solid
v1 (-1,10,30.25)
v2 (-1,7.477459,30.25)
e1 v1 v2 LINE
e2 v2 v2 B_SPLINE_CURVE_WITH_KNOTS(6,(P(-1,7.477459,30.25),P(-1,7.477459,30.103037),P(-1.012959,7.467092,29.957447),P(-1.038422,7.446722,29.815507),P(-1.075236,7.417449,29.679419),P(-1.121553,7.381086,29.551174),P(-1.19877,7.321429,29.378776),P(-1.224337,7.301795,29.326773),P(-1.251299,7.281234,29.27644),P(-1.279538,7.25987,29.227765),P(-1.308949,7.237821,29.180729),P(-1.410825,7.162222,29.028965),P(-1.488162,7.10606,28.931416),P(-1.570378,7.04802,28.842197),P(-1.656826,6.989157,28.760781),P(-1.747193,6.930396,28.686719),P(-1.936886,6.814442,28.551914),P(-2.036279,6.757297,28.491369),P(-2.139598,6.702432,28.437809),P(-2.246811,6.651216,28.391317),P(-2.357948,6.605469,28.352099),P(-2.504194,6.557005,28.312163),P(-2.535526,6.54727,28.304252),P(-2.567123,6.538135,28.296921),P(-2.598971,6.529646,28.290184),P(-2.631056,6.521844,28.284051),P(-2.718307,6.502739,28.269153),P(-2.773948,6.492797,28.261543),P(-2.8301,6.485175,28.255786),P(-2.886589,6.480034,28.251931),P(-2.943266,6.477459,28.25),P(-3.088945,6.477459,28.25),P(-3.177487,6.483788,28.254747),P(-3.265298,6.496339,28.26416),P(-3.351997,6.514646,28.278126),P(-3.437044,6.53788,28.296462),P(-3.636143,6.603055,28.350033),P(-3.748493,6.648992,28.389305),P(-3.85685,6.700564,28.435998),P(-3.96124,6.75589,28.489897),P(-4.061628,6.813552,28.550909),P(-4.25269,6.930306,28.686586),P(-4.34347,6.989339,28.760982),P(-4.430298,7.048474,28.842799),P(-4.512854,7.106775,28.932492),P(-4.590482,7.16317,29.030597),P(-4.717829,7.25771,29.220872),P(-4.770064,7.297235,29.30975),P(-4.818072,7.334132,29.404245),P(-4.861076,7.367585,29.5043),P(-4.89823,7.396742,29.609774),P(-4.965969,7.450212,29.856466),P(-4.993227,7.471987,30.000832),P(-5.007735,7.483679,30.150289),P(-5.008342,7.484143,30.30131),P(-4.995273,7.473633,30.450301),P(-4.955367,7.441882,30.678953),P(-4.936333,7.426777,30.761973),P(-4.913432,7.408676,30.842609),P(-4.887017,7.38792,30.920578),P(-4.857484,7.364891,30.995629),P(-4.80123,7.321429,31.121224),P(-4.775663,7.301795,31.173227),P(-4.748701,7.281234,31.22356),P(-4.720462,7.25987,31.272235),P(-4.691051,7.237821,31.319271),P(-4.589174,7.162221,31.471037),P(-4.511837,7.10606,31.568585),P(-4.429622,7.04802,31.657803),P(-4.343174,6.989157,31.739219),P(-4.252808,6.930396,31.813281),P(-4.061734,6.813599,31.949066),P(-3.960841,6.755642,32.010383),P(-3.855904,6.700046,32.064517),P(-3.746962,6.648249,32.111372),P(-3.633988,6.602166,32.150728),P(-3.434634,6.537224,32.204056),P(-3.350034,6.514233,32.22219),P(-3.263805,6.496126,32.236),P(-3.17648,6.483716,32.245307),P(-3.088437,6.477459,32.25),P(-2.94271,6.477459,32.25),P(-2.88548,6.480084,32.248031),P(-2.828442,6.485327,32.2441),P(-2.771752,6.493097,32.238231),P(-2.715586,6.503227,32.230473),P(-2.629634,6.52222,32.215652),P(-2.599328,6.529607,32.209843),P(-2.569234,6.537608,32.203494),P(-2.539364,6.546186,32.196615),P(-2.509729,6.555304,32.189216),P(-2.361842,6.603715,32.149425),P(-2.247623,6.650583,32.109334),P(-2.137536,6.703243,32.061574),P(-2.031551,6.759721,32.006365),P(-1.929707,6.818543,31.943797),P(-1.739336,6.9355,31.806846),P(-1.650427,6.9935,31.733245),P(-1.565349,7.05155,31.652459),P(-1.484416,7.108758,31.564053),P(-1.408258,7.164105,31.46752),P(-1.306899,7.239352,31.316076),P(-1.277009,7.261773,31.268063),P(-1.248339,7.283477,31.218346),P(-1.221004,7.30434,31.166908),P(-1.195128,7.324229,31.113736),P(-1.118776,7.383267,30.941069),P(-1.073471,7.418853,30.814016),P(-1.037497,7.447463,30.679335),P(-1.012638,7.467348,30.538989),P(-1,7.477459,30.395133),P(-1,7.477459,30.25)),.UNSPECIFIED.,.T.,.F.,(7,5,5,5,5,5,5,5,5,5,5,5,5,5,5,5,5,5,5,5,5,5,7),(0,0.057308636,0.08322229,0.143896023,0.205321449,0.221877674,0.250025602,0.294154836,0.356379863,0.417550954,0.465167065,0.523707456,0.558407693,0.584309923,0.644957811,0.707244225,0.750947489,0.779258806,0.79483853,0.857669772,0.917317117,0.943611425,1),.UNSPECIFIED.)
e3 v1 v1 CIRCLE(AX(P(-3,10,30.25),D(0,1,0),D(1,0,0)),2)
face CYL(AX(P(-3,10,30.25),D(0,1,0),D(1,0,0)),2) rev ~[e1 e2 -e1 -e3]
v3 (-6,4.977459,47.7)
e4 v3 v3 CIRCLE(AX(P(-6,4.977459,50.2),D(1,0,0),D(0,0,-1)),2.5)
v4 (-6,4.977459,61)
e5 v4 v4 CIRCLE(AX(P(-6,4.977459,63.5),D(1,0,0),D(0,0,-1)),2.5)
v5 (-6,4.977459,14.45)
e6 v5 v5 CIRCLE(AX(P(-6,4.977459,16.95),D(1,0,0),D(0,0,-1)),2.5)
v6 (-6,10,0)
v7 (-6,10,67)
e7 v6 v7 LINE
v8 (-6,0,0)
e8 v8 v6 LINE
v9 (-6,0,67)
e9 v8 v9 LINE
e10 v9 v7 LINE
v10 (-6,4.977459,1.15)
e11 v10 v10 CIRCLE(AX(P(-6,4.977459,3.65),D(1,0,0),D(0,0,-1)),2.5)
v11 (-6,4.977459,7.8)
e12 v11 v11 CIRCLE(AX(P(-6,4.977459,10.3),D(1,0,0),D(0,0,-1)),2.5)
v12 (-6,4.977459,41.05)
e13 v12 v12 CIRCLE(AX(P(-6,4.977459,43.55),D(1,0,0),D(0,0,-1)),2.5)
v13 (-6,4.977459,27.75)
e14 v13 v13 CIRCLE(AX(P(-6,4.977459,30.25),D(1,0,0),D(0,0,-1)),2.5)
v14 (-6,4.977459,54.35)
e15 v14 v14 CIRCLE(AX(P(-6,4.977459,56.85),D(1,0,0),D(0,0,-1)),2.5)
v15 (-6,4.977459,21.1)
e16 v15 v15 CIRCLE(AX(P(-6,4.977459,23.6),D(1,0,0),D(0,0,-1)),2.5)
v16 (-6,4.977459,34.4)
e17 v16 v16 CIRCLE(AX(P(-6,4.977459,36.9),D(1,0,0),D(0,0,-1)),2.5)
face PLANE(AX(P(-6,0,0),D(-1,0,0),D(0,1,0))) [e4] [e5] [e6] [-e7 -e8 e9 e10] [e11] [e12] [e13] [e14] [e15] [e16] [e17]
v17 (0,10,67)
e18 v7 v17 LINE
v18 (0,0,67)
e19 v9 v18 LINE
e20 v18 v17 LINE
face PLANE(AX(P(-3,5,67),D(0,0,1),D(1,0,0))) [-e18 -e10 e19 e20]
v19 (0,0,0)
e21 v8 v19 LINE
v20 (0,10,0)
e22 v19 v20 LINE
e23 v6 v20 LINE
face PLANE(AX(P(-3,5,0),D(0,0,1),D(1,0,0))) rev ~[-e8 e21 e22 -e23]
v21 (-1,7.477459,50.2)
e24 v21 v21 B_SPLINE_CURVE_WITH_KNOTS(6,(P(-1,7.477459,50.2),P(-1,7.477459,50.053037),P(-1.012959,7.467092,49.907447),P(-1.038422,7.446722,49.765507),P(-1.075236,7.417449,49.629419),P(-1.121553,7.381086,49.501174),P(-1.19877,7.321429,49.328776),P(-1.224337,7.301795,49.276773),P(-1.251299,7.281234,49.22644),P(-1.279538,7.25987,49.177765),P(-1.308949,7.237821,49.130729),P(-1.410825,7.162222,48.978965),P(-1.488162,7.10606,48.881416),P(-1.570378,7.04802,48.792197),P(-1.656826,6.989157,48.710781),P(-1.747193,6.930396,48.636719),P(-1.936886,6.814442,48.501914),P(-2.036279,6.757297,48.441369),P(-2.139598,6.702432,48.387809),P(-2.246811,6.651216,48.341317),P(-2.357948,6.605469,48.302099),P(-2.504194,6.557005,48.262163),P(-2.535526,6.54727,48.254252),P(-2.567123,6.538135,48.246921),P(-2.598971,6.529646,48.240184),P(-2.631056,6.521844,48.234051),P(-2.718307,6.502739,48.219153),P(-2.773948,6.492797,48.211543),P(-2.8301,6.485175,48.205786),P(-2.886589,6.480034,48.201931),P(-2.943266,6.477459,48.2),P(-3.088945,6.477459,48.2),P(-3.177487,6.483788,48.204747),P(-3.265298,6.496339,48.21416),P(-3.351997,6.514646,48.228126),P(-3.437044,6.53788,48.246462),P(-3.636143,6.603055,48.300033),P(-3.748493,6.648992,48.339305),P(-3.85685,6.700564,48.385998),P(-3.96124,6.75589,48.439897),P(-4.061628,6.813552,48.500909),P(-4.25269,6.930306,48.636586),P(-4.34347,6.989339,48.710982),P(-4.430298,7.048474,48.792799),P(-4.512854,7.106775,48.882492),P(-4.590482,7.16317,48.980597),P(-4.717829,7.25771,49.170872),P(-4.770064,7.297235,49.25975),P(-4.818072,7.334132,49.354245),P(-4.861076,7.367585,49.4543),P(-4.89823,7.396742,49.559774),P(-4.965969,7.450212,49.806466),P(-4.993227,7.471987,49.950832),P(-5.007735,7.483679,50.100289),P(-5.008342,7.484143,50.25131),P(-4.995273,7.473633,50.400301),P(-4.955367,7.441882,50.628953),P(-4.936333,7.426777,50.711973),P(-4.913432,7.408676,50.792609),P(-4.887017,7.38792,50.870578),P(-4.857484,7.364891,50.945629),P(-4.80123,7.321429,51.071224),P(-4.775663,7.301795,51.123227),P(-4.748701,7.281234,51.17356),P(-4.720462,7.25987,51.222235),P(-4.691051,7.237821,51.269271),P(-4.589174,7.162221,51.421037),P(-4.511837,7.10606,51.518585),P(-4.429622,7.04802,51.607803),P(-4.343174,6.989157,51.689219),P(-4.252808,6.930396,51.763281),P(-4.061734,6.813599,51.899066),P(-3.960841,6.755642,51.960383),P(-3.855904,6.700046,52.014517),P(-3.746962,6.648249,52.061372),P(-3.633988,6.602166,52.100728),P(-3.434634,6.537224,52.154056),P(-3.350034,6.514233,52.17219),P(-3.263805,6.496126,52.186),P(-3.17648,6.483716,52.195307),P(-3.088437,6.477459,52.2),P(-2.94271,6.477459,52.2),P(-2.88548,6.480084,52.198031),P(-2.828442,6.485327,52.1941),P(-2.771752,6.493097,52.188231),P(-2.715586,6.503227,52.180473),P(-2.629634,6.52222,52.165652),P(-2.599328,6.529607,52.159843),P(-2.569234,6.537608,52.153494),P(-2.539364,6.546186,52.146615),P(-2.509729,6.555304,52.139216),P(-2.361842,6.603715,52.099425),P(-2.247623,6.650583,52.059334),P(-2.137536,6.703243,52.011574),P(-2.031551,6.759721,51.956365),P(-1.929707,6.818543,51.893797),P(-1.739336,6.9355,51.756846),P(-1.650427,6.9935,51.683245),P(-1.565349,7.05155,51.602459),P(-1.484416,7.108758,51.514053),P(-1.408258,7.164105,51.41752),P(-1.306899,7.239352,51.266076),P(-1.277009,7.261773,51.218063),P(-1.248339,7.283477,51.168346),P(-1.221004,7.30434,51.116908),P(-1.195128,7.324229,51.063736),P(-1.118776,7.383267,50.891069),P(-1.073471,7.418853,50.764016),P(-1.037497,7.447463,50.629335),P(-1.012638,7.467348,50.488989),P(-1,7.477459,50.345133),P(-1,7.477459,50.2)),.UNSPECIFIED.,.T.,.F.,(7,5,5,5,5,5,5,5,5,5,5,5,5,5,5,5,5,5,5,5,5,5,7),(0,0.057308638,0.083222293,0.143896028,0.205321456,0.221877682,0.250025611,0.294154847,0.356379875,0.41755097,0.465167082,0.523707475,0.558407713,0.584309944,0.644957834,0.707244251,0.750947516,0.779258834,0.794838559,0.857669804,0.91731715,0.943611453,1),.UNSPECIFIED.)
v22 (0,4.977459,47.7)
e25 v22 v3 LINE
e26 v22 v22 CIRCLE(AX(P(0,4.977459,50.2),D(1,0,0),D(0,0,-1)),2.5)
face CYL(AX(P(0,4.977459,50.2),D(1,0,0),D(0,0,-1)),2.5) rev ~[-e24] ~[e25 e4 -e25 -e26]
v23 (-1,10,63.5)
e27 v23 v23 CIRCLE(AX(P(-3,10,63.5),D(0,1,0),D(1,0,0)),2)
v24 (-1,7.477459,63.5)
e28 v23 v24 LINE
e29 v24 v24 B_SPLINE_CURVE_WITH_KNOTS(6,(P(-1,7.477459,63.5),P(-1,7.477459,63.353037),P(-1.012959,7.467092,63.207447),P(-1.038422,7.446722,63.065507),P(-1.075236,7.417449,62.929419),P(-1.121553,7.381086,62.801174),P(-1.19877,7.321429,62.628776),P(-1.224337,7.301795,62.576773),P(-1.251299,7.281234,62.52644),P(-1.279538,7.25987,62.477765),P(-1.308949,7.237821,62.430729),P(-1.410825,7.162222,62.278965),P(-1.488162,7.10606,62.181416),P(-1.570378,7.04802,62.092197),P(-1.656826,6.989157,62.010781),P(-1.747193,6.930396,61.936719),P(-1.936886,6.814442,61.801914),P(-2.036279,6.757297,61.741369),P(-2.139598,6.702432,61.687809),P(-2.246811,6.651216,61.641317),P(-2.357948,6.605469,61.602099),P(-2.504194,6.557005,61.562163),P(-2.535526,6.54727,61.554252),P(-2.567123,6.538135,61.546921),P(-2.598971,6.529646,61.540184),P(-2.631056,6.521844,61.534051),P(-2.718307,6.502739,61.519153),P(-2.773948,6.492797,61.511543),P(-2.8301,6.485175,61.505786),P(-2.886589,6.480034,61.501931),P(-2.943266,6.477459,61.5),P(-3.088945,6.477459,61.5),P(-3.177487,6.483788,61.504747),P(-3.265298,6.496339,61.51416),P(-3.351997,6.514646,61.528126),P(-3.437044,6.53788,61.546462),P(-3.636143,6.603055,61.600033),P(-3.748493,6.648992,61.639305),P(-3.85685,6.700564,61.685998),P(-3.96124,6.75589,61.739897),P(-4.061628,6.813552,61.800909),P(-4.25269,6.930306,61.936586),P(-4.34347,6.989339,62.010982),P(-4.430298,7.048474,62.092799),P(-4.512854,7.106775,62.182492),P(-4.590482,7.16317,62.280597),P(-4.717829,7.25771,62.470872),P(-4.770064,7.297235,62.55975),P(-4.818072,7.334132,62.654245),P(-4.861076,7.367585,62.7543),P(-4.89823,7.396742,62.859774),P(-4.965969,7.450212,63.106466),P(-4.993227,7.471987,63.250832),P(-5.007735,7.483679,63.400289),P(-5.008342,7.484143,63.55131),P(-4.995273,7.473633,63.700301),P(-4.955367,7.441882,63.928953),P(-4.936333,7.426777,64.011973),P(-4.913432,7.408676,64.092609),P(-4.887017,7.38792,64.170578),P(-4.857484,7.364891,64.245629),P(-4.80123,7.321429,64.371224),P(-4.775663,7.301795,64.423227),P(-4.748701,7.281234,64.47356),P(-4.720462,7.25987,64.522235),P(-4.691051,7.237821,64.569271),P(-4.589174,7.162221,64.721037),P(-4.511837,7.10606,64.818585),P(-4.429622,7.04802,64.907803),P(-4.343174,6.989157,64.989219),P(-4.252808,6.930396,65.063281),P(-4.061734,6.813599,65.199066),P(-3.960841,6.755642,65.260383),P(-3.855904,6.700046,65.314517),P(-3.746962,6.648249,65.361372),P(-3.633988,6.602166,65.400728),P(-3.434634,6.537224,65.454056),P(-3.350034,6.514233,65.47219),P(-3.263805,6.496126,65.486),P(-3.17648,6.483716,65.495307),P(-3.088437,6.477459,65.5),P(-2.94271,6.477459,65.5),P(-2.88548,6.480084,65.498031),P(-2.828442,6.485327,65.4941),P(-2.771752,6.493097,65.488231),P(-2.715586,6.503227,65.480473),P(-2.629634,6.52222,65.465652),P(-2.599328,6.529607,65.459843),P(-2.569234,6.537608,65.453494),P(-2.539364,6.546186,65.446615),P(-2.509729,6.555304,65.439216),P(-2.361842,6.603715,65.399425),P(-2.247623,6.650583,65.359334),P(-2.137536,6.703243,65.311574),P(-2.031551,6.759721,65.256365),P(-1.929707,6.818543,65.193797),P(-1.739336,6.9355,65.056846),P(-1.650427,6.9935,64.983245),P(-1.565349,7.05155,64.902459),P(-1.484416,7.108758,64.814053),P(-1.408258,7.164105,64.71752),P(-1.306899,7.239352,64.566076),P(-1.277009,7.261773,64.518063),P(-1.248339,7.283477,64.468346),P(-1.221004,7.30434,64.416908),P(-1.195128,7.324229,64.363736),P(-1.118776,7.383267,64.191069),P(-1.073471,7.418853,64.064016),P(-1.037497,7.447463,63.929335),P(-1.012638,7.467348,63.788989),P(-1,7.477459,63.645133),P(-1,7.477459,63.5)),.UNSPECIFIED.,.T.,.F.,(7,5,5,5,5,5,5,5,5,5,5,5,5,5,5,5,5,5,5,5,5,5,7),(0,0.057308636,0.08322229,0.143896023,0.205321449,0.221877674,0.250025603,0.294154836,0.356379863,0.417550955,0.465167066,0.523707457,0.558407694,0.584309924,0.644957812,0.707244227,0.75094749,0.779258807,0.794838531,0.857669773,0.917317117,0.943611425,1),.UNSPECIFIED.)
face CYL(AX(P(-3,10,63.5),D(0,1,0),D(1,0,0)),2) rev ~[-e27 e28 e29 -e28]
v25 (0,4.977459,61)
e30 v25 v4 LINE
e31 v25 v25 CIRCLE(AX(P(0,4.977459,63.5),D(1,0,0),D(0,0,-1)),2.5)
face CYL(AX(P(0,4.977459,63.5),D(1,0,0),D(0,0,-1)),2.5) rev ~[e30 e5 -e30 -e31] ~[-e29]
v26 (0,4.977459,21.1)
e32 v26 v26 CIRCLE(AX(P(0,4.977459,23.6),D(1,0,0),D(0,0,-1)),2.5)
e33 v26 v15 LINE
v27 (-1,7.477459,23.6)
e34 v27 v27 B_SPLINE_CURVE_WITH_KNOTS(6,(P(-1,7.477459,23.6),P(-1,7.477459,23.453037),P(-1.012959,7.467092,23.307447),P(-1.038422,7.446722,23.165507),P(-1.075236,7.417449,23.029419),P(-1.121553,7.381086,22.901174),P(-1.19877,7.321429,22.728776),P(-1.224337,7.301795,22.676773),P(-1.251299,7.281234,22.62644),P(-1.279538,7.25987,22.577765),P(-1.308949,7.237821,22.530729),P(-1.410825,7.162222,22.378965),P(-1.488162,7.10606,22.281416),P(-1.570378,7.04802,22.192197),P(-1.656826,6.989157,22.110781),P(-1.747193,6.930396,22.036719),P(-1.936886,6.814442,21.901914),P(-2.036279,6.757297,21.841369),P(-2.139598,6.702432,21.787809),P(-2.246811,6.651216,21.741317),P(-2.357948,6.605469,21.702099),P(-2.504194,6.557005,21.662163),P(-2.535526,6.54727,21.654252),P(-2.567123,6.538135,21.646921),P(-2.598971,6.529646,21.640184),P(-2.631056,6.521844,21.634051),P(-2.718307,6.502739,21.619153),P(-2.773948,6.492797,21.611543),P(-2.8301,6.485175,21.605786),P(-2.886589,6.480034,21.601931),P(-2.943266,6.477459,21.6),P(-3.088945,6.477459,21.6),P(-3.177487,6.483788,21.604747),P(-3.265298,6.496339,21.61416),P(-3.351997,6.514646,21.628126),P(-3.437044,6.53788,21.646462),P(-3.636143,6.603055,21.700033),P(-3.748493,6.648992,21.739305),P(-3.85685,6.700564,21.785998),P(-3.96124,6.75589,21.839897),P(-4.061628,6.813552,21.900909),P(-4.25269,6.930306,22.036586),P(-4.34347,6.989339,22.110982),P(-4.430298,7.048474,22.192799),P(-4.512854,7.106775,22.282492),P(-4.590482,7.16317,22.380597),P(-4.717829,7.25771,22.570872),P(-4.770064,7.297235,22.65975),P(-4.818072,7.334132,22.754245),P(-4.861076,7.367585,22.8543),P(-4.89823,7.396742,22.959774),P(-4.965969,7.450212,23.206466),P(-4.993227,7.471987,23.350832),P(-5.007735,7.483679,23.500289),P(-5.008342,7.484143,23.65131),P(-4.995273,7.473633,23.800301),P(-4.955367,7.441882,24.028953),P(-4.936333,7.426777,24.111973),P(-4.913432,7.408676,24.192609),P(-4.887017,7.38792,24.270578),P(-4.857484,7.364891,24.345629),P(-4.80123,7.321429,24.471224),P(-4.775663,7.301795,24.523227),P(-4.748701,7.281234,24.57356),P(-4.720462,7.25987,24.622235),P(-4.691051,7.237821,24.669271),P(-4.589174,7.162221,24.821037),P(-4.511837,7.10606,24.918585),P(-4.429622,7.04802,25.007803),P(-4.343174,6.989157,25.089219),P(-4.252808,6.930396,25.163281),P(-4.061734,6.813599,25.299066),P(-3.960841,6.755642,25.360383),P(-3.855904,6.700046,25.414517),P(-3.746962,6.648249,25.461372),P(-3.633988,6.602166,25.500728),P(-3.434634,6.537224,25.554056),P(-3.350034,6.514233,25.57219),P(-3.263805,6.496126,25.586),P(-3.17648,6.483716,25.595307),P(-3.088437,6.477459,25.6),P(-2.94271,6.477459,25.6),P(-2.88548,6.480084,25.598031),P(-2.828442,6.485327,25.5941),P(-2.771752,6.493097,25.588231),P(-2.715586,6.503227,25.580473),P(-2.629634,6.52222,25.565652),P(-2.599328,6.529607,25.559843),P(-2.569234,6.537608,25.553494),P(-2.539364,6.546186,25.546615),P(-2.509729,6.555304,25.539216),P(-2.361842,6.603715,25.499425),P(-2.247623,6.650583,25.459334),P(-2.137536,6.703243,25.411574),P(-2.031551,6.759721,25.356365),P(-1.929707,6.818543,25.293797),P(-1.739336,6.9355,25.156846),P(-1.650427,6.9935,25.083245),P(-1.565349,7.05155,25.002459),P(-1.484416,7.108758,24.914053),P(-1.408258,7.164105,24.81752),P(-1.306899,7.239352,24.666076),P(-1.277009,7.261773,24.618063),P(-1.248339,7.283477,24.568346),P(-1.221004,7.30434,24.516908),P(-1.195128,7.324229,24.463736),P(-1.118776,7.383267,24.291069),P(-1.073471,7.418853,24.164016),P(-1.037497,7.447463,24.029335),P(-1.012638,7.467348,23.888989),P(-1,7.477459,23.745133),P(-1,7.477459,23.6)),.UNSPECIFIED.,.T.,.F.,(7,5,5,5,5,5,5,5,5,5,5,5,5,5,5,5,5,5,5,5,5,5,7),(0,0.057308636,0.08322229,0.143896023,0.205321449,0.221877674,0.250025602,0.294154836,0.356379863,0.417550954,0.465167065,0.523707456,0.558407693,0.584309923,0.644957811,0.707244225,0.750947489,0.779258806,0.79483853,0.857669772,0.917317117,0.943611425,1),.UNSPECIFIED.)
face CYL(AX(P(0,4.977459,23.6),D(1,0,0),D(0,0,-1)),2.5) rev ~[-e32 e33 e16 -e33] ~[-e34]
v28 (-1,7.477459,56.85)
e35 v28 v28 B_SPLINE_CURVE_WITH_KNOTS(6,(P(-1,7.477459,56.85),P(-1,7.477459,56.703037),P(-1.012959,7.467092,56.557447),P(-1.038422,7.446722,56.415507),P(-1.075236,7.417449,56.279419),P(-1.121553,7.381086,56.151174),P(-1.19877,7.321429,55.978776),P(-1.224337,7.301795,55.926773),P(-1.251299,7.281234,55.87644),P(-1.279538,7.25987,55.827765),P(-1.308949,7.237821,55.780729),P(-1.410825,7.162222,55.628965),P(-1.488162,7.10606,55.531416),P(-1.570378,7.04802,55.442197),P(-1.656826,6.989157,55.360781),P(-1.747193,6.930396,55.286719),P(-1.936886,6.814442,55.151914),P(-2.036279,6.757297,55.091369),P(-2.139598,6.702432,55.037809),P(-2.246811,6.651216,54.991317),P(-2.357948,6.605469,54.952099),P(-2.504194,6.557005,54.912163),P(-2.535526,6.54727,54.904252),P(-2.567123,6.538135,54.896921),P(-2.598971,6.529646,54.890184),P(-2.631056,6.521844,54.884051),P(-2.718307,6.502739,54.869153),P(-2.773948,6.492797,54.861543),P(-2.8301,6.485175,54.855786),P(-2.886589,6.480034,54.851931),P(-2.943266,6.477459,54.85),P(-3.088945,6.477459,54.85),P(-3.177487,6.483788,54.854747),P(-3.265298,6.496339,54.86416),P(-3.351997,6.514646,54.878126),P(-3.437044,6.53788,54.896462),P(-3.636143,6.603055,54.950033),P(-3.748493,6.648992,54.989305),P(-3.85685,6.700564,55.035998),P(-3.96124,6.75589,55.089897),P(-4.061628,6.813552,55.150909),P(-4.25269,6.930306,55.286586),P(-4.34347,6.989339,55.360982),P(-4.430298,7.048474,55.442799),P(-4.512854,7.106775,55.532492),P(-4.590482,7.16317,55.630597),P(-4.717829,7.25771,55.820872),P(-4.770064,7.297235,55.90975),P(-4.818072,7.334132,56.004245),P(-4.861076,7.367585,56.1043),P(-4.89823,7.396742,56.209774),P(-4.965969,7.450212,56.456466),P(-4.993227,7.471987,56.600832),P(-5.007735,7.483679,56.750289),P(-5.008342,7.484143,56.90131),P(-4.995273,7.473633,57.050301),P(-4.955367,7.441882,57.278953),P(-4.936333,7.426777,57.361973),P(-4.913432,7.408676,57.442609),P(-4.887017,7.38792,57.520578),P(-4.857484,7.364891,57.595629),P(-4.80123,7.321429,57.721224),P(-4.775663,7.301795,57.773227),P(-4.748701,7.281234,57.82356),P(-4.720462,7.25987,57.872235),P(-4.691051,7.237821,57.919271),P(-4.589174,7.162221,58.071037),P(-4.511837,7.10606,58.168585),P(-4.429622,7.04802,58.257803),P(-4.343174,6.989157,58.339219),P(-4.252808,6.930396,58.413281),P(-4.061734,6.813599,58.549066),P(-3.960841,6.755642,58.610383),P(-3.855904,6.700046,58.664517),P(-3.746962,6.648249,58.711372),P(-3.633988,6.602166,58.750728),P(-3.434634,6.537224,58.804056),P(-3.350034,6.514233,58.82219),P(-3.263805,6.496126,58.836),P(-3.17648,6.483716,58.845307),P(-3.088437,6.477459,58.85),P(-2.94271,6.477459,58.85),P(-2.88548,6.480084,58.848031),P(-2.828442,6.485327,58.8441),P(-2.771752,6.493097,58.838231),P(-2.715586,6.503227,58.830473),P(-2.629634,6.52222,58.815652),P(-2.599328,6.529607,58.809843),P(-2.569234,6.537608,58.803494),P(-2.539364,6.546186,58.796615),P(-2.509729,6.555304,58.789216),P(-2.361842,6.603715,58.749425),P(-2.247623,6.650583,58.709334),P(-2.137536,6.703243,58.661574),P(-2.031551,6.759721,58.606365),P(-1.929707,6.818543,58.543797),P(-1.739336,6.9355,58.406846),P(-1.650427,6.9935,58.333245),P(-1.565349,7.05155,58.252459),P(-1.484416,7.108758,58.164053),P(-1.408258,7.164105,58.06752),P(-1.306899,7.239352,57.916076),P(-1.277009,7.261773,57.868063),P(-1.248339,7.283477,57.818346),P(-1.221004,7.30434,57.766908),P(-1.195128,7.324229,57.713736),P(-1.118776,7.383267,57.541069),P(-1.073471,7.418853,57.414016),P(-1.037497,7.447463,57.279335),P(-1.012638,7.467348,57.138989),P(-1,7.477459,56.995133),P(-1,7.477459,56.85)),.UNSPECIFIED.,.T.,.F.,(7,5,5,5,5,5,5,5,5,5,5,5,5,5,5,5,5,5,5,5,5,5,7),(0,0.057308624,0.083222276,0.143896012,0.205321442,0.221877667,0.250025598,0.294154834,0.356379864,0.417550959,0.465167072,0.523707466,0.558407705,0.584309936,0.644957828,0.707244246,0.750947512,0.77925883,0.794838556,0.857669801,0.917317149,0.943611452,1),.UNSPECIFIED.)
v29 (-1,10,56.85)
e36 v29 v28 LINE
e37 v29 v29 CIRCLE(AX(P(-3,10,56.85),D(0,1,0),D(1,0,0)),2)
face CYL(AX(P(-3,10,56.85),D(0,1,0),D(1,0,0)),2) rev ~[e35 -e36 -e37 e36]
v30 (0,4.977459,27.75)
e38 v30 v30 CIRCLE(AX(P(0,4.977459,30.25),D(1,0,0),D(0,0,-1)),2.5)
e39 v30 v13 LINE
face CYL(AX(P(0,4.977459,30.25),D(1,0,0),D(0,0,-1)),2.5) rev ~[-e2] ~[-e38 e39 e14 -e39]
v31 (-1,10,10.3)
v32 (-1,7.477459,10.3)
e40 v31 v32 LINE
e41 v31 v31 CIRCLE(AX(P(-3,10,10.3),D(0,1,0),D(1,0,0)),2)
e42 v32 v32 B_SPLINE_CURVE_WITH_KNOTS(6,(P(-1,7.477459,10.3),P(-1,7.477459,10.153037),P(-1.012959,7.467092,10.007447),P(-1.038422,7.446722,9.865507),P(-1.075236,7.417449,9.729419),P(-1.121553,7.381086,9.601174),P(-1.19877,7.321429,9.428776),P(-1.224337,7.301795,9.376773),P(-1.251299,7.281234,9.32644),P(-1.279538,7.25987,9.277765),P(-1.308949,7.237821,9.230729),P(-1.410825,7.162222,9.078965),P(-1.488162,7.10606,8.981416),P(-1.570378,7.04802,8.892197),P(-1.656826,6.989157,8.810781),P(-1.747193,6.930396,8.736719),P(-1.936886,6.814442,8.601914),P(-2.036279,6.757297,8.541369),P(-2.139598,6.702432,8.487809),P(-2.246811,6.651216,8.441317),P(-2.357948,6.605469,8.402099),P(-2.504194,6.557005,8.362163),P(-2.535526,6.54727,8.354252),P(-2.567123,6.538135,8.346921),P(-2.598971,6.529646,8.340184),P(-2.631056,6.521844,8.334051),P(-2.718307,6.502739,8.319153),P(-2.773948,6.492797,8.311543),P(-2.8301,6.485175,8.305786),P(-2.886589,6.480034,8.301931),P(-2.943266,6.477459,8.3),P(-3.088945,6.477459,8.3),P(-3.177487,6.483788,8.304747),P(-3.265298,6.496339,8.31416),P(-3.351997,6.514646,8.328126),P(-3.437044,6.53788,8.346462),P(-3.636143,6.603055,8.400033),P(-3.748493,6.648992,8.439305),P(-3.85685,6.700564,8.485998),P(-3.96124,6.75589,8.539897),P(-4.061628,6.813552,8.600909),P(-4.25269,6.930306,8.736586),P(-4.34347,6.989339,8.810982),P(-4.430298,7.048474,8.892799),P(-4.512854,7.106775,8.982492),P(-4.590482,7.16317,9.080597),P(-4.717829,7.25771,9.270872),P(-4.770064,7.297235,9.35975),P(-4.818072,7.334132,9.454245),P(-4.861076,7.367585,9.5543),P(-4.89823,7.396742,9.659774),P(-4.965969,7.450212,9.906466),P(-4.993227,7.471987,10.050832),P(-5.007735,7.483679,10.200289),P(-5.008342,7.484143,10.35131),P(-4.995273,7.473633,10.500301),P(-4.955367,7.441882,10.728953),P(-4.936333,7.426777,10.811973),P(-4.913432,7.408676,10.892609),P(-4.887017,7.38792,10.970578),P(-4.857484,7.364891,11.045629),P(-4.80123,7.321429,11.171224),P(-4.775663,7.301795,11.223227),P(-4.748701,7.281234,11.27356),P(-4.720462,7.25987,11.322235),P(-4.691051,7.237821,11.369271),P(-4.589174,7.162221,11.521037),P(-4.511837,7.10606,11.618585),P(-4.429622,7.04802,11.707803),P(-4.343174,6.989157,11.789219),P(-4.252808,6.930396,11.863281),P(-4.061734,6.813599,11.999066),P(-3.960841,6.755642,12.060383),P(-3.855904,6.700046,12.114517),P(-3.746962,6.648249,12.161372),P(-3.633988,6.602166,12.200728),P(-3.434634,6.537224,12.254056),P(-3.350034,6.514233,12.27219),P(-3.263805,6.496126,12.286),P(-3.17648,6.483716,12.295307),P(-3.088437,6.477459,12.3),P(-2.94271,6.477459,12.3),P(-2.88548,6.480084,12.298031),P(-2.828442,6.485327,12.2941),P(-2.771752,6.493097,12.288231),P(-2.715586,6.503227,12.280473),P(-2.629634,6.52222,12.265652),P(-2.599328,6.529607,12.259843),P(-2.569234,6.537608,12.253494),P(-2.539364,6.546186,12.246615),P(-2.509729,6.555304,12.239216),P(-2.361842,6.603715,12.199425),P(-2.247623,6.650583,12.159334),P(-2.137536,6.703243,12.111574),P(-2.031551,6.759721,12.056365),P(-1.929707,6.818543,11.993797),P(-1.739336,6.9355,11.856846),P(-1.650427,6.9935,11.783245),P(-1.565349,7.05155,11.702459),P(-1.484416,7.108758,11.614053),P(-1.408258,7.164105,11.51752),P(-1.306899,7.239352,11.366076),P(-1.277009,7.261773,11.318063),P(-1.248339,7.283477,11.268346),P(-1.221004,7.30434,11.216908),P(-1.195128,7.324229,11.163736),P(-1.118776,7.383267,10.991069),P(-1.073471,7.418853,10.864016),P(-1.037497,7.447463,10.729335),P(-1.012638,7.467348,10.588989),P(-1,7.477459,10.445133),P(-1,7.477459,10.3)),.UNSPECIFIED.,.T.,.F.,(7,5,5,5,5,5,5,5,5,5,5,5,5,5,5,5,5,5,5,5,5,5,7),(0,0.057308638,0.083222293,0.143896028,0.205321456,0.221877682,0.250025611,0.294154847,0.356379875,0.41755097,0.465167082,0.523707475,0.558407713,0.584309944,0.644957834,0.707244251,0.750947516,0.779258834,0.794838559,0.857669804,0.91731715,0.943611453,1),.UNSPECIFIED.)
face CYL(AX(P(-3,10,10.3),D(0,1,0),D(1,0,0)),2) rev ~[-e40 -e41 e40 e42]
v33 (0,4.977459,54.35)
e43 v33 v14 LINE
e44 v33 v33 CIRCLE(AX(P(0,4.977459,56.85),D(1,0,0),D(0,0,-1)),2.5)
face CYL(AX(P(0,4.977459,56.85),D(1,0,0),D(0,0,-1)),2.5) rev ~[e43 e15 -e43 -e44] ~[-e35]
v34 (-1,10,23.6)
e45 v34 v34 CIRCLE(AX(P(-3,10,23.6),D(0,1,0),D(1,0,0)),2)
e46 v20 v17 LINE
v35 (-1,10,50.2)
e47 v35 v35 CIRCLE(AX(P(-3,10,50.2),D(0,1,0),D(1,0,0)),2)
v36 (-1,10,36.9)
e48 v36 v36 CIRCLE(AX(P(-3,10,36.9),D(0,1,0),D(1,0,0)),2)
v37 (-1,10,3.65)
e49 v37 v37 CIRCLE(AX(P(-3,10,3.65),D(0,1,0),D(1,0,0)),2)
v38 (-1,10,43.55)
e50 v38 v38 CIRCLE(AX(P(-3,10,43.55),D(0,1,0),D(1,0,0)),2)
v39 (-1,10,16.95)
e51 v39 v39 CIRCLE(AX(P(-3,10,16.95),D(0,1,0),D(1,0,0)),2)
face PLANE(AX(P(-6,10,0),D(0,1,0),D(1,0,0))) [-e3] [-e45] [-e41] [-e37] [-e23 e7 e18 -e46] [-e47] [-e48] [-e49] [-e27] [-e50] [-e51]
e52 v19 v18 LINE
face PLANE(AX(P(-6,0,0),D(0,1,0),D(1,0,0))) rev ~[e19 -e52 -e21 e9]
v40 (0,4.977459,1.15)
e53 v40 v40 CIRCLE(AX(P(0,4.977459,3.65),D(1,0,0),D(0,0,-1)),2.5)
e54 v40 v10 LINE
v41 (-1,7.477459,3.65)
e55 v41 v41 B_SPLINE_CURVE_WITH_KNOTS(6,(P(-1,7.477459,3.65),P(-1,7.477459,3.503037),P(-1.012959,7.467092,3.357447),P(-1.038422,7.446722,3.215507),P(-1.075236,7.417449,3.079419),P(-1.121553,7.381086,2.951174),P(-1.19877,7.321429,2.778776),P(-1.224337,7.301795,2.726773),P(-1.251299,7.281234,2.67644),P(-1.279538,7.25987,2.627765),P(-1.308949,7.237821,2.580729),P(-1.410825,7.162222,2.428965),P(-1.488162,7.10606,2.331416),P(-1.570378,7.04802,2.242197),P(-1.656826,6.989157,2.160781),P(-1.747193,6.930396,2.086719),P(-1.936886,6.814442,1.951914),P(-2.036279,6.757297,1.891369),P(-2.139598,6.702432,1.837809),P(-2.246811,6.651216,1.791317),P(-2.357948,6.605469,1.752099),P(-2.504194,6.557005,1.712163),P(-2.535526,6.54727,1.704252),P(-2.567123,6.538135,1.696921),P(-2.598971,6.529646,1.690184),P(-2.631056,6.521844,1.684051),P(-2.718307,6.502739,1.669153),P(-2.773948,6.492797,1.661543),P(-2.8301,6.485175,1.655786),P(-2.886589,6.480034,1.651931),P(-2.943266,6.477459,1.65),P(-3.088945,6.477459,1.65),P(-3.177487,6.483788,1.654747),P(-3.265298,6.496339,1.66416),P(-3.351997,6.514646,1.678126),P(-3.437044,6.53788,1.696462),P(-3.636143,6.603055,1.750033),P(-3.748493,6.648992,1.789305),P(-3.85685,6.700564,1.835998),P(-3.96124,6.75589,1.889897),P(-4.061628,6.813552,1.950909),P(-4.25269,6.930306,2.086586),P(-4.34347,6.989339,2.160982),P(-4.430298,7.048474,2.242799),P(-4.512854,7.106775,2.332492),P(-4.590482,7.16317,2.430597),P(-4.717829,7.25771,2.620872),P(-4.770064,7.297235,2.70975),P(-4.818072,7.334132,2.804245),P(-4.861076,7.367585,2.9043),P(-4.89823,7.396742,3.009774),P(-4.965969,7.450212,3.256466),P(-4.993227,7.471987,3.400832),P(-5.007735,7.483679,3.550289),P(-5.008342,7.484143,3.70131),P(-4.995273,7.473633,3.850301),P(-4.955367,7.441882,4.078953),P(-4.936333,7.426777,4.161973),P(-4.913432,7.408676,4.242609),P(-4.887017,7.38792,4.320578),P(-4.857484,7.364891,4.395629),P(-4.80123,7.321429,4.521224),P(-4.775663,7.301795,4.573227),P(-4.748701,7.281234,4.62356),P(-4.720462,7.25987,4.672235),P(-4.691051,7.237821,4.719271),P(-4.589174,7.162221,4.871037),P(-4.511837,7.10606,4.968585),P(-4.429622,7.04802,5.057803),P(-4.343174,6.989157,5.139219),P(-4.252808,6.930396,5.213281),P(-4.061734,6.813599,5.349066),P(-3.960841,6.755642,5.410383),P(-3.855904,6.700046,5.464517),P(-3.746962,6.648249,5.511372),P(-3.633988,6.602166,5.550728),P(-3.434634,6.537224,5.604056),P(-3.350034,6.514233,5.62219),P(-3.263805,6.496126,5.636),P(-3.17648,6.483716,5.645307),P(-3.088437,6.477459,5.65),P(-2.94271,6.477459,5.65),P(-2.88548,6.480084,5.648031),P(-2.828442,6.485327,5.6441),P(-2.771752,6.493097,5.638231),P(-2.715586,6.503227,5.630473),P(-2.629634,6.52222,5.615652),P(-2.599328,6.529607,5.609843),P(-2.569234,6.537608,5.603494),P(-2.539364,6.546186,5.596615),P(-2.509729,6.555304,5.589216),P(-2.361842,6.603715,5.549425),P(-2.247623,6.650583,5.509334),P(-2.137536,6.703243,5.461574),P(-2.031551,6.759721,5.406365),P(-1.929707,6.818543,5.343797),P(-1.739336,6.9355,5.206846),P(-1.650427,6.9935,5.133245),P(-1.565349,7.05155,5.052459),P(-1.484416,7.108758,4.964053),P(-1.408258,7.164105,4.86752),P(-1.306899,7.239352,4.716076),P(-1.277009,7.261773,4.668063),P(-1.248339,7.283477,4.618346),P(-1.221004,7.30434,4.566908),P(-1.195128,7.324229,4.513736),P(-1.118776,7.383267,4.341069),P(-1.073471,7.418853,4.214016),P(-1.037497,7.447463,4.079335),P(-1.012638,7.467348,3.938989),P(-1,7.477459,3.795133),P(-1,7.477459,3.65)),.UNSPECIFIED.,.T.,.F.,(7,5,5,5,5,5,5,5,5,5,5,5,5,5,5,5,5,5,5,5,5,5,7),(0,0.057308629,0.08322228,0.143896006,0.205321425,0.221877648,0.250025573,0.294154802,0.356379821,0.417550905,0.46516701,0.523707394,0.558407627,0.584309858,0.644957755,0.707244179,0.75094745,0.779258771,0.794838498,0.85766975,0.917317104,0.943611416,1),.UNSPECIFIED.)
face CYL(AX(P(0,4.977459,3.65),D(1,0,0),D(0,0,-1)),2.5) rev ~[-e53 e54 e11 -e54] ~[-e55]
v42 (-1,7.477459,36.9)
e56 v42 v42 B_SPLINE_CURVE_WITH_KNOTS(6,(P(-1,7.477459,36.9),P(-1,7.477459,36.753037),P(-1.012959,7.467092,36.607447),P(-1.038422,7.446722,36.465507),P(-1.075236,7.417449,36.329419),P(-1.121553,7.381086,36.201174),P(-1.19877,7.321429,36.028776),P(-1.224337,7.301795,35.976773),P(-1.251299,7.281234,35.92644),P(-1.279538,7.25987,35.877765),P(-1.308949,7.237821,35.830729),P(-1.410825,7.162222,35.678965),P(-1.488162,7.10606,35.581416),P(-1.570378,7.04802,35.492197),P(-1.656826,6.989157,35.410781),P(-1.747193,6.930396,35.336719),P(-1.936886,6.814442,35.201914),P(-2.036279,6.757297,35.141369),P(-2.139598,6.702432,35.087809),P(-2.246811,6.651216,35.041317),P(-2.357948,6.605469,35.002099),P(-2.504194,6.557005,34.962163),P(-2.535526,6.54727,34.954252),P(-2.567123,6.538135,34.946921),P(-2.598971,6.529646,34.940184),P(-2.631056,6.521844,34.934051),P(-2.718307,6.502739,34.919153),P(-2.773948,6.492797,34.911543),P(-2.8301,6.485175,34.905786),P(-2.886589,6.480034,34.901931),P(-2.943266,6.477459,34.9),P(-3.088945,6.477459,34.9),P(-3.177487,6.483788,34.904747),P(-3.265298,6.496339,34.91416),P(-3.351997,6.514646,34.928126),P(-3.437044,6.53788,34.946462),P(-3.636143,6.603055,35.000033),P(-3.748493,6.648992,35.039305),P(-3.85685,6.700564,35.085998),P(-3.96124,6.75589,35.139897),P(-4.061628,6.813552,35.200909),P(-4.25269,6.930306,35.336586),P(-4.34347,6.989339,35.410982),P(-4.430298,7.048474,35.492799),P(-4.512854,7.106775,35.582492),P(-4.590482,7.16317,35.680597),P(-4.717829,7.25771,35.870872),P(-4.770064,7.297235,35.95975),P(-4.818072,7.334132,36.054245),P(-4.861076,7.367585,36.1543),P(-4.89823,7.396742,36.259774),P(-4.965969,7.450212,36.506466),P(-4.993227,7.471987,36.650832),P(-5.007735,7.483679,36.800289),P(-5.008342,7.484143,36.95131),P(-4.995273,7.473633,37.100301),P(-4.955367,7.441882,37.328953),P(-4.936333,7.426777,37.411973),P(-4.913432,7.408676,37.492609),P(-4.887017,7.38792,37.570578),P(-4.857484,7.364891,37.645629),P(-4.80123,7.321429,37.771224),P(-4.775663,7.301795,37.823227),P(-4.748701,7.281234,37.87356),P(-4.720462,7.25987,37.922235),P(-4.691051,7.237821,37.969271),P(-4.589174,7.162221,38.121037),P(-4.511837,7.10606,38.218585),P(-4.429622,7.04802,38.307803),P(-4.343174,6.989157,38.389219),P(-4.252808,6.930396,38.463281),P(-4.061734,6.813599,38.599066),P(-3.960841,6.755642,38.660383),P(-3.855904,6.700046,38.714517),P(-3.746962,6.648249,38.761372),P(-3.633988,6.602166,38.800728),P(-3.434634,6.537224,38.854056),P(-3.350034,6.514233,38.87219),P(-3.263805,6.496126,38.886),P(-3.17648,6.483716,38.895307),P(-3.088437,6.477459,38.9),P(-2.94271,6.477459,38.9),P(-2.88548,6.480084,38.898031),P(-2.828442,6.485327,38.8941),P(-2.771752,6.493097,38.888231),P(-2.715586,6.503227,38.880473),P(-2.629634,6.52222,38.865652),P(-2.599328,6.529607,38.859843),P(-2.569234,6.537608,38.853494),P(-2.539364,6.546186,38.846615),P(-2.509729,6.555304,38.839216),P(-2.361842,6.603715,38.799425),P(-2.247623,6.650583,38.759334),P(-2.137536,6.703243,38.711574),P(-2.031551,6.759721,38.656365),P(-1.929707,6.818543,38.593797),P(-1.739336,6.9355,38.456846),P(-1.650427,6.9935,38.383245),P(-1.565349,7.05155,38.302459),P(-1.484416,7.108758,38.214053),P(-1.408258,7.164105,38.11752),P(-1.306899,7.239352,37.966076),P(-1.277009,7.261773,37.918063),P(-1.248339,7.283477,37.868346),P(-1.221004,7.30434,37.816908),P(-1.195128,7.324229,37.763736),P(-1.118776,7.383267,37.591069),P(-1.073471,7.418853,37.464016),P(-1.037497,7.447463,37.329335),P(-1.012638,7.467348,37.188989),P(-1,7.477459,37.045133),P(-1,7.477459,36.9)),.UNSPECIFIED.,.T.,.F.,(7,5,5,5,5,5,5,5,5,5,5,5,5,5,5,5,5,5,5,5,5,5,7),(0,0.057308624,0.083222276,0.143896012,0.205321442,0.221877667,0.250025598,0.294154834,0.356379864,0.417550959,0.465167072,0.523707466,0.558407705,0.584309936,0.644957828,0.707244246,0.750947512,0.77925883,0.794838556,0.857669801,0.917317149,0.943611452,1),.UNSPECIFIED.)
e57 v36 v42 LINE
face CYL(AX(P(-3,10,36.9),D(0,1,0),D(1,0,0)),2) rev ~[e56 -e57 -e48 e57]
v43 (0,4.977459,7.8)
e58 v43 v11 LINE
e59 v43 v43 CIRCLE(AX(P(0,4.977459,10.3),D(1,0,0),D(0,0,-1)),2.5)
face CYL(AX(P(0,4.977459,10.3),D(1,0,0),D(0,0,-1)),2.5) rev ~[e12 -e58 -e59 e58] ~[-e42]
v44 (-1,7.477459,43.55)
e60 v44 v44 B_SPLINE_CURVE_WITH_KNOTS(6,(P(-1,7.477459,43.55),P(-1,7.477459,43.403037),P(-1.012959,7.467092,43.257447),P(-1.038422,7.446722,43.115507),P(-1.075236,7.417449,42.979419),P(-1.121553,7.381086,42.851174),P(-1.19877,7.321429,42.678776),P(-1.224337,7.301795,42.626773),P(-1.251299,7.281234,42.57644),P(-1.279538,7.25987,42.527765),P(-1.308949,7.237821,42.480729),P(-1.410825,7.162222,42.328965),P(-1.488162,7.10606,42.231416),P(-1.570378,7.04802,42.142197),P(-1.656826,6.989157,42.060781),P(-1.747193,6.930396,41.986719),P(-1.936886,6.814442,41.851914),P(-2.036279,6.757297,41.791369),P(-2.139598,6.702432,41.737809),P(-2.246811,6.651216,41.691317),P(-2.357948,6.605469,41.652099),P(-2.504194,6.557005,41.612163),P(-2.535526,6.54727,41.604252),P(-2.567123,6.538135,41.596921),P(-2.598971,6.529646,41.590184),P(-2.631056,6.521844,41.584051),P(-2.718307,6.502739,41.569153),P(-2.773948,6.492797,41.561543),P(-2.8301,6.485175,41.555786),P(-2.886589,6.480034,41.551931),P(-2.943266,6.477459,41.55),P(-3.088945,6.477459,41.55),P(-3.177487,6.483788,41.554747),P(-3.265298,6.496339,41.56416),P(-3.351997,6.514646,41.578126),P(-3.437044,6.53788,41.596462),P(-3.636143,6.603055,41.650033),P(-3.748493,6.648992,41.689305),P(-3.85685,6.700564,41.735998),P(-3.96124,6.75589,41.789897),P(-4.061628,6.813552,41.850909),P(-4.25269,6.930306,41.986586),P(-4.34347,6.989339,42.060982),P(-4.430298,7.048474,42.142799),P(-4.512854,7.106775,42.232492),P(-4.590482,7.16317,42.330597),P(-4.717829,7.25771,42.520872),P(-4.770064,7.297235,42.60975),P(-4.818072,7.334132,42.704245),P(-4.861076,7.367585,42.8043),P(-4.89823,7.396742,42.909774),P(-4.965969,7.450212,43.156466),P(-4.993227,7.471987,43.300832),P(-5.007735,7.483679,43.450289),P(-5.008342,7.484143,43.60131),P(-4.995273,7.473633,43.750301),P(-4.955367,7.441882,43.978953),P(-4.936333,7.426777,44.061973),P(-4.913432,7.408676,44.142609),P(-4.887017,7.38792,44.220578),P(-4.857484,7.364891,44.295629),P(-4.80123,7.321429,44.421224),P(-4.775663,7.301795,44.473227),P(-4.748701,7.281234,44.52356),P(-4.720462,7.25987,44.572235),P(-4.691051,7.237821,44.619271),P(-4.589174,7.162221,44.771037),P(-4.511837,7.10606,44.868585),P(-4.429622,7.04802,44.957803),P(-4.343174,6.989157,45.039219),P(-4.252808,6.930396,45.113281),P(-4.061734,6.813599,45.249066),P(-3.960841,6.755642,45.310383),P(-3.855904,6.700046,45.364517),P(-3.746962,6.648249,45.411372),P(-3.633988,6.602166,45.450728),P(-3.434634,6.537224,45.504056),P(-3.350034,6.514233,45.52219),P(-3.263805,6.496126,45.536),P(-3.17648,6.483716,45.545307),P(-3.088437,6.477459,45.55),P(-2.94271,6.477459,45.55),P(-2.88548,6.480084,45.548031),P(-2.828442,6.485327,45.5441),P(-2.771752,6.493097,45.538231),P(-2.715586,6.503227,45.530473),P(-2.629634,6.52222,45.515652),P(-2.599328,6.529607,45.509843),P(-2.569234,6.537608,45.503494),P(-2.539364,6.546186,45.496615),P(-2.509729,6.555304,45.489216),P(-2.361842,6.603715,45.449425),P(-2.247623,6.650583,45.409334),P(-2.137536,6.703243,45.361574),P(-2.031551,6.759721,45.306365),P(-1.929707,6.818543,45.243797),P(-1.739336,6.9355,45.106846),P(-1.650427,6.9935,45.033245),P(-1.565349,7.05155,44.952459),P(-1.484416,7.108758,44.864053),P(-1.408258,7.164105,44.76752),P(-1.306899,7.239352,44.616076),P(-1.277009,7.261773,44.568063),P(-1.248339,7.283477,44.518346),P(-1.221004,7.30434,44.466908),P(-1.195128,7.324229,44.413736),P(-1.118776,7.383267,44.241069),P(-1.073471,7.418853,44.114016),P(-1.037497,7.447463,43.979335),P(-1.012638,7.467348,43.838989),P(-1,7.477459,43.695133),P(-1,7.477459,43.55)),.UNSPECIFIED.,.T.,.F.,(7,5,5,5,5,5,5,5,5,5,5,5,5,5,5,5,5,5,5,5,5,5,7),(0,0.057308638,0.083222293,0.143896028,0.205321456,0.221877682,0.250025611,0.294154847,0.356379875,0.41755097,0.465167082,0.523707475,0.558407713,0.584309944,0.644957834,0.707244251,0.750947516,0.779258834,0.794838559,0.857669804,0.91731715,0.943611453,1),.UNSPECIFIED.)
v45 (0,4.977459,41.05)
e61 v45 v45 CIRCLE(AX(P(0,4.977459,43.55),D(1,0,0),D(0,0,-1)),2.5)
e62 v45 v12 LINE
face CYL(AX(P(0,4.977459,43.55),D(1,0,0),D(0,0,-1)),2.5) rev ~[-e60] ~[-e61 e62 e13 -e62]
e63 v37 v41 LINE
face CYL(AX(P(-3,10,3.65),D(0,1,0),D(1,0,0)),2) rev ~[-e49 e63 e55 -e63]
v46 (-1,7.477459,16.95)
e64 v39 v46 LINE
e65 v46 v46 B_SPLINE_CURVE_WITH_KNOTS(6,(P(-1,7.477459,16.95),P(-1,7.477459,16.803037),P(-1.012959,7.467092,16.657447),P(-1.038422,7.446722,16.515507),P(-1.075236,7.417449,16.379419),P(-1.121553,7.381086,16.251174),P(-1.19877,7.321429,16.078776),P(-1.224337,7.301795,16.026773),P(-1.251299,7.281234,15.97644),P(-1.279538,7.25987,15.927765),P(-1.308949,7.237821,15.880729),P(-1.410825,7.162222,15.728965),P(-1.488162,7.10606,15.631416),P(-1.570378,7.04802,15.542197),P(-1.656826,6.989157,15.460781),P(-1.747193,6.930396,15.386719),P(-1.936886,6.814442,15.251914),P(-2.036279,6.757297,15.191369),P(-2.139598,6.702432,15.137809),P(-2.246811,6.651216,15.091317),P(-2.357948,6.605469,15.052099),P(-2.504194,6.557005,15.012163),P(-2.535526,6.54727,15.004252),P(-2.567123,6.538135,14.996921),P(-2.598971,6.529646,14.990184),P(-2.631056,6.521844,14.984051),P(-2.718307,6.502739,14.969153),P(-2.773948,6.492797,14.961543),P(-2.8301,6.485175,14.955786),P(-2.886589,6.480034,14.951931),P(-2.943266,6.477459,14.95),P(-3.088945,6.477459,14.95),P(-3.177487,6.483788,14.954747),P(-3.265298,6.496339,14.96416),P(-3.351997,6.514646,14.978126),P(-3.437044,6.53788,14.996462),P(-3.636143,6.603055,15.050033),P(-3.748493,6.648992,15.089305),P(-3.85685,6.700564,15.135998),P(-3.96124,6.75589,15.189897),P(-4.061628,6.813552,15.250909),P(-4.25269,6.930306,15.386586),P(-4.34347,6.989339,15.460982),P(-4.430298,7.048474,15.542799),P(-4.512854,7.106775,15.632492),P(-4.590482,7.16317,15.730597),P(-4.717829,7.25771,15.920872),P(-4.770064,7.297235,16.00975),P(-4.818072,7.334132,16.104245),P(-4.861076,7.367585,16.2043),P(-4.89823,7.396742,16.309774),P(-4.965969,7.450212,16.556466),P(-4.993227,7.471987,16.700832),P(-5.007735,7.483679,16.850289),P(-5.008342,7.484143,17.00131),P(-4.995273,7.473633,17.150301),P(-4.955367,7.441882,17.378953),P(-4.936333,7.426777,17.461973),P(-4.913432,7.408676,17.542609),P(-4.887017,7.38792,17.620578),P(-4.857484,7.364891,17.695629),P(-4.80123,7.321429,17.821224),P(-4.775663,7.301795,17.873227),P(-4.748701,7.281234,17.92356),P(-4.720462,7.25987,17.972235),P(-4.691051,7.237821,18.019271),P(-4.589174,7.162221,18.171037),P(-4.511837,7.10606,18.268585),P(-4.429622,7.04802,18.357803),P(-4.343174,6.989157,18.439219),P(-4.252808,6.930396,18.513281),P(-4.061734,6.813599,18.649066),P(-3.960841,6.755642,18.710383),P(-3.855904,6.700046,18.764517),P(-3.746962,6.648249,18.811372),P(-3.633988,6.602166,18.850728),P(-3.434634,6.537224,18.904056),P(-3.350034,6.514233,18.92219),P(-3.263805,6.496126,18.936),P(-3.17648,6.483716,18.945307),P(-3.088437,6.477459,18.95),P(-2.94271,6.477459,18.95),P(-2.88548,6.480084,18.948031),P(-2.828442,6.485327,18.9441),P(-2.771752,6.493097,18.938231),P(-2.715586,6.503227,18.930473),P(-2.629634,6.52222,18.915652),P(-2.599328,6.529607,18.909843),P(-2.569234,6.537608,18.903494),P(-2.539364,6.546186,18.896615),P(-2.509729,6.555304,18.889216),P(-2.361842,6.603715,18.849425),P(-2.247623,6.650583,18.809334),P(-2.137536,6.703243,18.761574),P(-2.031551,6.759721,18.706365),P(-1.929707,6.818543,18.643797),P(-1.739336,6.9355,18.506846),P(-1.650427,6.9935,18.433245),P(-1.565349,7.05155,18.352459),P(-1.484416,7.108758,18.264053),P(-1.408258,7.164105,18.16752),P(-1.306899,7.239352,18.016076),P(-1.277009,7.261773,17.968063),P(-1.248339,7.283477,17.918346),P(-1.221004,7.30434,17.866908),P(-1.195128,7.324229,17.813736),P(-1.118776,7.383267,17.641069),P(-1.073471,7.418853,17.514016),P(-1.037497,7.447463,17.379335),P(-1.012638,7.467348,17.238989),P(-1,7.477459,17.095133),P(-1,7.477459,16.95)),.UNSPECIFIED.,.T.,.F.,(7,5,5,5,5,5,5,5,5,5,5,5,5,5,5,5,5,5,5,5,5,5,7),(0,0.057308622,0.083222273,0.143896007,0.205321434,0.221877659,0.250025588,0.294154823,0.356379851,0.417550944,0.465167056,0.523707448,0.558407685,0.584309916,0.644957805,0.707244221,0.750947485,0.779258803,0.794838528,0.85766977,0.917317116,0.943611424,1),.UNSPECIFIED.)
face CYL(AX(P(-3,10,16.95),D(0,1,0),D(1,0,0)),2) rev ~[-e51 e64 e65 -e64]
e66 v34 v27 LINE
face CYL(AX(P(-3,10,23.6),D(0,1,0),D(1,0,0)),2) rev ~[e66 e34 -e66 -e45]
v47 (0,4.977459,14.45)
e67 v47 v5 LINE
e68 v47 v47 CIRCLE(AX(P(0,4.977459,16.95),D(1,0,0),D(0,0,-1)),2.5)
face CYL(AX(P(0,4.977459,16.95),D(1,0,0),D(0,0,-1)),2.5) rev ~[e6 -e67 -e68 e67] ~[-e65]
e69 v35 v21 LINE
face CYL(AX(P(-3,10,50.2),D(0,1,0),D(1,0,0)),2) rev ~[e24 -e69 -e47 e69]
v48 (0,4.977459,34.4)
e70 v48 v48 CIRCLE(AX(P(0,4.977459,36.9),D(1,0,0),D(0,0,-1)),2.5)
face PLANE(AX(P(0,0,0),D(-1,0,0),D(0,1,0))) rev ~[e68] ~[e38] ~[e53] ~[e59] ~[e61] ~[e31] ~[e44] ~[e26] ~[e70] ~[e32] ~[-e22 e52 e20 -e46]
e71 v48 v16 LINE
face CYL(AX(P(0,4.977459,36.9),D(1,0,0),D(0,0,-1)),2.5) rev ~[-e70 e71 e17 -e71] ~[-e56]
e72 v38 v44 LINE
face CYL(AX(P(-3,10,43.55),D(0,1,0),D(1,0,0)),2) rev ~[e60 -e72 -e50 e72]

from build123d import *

# Parameters (mm, degrees)
ESBO_O1_W                = 6
ESBO_O1_H                = 10
RESSALTO_EXTRUS_O1_DEPTH = 67
ESBO_O2_R                = 2.5
CORTE_EXTRUS_O1_DEPTH    = 67
ESBO_O3_R                = 2
CORTE_EXTRUS_O2_DEPTH    = 6


with BuildPart() as part:
    # Esboço1 → Ressalto-extrusão1 (new body)
    with BuildSketch(Plane.XY):
        with Locations((-3, 5)):
            Rectangle(ESBO_O1_W, ESBO_O1_H)
    extrude(amount=RESSALTO_EXTRUS_O1_DEPTH)

    # Esboço2 → Corte-extrusão1 (cut)
    with BuildSketch(Plane(origin=(0, 0, 0), x_dir=(0, 0, -1), z_dir=(1, 0, 0))):
        with Locations((-63.5, 4.977459114)):
            Circle(ESBO_O2_R)
        with Locations((-56.85, 4.977459114)):
            Circle(ESBO_O2_R)
        with Locations((-50.2, 4.977459114)):
            Circle(ESBO_O2_R)
        with Locations((-43.55, 4.977459114)):
            Circle(ESBO_O2_R)
        with Locations((-36.9, 4.977459114)):
            Circle(ESBO_O2_R)
        with Locations((-30.25, 4.977459114)):
            Circle(ESBO_O2_R)
        with Locations((-23.6, 4.977459114)):
            Circle(ESBO_O2_R)
        with Locations((-16.95, 4.977459114)):
            Circle(ESBO_O2_R)
        with Locations((-10.3, 4.977459114)):
            Circle(ESBO_O2_R)
        with Locations((-3.65, 4.977459114)):
            Circle(ESBO_O2_R)
    extrude(amount=-CORTE_EXTRUS_O1_DEPTH, mode=Mode.SUBTRACT)

    # Esboço3 → Corte-extrusão2 (cut)
    with BuildSketch(Plane(origin=(0, 10, 0), x_dir=(1, 0, 0), z_dir=(0, 1, 0))):
        with Locations((-3, -63.5)):
            Circle(ESBO_O3_R)
        with Locations((-3, -56.85)):
            Circle(ESBO_O3_R)
        with Locations((-3, -50.2)):
            Circle(ESBO_O3_R)
        with Locations((-3, -43.55)):
            Circle(ESBO_O3_R)
        with Locations((-3, -36.9)):
            Circle(ESBO_O3_R)
        with Locations((-3, -30.25)):
            Circle(ESBO_O3_R)
        with Locations((-3, -23.6)):
            Circle(ESBO_O3_R)
        with Locations((-3, -16.95)):
            Circle(ESBO_O3_R)
        with Locations((-3, -10.3)):
            Circle(ESBO_O3_R)
        with Locations((-3, -3.65)):
            Circle(ESBO_O3_R)
    extrude(amount=-CORTE_EXTRUS_O2_DEPTH, mode=Mode.SUBTRACT)


solid = part.part
